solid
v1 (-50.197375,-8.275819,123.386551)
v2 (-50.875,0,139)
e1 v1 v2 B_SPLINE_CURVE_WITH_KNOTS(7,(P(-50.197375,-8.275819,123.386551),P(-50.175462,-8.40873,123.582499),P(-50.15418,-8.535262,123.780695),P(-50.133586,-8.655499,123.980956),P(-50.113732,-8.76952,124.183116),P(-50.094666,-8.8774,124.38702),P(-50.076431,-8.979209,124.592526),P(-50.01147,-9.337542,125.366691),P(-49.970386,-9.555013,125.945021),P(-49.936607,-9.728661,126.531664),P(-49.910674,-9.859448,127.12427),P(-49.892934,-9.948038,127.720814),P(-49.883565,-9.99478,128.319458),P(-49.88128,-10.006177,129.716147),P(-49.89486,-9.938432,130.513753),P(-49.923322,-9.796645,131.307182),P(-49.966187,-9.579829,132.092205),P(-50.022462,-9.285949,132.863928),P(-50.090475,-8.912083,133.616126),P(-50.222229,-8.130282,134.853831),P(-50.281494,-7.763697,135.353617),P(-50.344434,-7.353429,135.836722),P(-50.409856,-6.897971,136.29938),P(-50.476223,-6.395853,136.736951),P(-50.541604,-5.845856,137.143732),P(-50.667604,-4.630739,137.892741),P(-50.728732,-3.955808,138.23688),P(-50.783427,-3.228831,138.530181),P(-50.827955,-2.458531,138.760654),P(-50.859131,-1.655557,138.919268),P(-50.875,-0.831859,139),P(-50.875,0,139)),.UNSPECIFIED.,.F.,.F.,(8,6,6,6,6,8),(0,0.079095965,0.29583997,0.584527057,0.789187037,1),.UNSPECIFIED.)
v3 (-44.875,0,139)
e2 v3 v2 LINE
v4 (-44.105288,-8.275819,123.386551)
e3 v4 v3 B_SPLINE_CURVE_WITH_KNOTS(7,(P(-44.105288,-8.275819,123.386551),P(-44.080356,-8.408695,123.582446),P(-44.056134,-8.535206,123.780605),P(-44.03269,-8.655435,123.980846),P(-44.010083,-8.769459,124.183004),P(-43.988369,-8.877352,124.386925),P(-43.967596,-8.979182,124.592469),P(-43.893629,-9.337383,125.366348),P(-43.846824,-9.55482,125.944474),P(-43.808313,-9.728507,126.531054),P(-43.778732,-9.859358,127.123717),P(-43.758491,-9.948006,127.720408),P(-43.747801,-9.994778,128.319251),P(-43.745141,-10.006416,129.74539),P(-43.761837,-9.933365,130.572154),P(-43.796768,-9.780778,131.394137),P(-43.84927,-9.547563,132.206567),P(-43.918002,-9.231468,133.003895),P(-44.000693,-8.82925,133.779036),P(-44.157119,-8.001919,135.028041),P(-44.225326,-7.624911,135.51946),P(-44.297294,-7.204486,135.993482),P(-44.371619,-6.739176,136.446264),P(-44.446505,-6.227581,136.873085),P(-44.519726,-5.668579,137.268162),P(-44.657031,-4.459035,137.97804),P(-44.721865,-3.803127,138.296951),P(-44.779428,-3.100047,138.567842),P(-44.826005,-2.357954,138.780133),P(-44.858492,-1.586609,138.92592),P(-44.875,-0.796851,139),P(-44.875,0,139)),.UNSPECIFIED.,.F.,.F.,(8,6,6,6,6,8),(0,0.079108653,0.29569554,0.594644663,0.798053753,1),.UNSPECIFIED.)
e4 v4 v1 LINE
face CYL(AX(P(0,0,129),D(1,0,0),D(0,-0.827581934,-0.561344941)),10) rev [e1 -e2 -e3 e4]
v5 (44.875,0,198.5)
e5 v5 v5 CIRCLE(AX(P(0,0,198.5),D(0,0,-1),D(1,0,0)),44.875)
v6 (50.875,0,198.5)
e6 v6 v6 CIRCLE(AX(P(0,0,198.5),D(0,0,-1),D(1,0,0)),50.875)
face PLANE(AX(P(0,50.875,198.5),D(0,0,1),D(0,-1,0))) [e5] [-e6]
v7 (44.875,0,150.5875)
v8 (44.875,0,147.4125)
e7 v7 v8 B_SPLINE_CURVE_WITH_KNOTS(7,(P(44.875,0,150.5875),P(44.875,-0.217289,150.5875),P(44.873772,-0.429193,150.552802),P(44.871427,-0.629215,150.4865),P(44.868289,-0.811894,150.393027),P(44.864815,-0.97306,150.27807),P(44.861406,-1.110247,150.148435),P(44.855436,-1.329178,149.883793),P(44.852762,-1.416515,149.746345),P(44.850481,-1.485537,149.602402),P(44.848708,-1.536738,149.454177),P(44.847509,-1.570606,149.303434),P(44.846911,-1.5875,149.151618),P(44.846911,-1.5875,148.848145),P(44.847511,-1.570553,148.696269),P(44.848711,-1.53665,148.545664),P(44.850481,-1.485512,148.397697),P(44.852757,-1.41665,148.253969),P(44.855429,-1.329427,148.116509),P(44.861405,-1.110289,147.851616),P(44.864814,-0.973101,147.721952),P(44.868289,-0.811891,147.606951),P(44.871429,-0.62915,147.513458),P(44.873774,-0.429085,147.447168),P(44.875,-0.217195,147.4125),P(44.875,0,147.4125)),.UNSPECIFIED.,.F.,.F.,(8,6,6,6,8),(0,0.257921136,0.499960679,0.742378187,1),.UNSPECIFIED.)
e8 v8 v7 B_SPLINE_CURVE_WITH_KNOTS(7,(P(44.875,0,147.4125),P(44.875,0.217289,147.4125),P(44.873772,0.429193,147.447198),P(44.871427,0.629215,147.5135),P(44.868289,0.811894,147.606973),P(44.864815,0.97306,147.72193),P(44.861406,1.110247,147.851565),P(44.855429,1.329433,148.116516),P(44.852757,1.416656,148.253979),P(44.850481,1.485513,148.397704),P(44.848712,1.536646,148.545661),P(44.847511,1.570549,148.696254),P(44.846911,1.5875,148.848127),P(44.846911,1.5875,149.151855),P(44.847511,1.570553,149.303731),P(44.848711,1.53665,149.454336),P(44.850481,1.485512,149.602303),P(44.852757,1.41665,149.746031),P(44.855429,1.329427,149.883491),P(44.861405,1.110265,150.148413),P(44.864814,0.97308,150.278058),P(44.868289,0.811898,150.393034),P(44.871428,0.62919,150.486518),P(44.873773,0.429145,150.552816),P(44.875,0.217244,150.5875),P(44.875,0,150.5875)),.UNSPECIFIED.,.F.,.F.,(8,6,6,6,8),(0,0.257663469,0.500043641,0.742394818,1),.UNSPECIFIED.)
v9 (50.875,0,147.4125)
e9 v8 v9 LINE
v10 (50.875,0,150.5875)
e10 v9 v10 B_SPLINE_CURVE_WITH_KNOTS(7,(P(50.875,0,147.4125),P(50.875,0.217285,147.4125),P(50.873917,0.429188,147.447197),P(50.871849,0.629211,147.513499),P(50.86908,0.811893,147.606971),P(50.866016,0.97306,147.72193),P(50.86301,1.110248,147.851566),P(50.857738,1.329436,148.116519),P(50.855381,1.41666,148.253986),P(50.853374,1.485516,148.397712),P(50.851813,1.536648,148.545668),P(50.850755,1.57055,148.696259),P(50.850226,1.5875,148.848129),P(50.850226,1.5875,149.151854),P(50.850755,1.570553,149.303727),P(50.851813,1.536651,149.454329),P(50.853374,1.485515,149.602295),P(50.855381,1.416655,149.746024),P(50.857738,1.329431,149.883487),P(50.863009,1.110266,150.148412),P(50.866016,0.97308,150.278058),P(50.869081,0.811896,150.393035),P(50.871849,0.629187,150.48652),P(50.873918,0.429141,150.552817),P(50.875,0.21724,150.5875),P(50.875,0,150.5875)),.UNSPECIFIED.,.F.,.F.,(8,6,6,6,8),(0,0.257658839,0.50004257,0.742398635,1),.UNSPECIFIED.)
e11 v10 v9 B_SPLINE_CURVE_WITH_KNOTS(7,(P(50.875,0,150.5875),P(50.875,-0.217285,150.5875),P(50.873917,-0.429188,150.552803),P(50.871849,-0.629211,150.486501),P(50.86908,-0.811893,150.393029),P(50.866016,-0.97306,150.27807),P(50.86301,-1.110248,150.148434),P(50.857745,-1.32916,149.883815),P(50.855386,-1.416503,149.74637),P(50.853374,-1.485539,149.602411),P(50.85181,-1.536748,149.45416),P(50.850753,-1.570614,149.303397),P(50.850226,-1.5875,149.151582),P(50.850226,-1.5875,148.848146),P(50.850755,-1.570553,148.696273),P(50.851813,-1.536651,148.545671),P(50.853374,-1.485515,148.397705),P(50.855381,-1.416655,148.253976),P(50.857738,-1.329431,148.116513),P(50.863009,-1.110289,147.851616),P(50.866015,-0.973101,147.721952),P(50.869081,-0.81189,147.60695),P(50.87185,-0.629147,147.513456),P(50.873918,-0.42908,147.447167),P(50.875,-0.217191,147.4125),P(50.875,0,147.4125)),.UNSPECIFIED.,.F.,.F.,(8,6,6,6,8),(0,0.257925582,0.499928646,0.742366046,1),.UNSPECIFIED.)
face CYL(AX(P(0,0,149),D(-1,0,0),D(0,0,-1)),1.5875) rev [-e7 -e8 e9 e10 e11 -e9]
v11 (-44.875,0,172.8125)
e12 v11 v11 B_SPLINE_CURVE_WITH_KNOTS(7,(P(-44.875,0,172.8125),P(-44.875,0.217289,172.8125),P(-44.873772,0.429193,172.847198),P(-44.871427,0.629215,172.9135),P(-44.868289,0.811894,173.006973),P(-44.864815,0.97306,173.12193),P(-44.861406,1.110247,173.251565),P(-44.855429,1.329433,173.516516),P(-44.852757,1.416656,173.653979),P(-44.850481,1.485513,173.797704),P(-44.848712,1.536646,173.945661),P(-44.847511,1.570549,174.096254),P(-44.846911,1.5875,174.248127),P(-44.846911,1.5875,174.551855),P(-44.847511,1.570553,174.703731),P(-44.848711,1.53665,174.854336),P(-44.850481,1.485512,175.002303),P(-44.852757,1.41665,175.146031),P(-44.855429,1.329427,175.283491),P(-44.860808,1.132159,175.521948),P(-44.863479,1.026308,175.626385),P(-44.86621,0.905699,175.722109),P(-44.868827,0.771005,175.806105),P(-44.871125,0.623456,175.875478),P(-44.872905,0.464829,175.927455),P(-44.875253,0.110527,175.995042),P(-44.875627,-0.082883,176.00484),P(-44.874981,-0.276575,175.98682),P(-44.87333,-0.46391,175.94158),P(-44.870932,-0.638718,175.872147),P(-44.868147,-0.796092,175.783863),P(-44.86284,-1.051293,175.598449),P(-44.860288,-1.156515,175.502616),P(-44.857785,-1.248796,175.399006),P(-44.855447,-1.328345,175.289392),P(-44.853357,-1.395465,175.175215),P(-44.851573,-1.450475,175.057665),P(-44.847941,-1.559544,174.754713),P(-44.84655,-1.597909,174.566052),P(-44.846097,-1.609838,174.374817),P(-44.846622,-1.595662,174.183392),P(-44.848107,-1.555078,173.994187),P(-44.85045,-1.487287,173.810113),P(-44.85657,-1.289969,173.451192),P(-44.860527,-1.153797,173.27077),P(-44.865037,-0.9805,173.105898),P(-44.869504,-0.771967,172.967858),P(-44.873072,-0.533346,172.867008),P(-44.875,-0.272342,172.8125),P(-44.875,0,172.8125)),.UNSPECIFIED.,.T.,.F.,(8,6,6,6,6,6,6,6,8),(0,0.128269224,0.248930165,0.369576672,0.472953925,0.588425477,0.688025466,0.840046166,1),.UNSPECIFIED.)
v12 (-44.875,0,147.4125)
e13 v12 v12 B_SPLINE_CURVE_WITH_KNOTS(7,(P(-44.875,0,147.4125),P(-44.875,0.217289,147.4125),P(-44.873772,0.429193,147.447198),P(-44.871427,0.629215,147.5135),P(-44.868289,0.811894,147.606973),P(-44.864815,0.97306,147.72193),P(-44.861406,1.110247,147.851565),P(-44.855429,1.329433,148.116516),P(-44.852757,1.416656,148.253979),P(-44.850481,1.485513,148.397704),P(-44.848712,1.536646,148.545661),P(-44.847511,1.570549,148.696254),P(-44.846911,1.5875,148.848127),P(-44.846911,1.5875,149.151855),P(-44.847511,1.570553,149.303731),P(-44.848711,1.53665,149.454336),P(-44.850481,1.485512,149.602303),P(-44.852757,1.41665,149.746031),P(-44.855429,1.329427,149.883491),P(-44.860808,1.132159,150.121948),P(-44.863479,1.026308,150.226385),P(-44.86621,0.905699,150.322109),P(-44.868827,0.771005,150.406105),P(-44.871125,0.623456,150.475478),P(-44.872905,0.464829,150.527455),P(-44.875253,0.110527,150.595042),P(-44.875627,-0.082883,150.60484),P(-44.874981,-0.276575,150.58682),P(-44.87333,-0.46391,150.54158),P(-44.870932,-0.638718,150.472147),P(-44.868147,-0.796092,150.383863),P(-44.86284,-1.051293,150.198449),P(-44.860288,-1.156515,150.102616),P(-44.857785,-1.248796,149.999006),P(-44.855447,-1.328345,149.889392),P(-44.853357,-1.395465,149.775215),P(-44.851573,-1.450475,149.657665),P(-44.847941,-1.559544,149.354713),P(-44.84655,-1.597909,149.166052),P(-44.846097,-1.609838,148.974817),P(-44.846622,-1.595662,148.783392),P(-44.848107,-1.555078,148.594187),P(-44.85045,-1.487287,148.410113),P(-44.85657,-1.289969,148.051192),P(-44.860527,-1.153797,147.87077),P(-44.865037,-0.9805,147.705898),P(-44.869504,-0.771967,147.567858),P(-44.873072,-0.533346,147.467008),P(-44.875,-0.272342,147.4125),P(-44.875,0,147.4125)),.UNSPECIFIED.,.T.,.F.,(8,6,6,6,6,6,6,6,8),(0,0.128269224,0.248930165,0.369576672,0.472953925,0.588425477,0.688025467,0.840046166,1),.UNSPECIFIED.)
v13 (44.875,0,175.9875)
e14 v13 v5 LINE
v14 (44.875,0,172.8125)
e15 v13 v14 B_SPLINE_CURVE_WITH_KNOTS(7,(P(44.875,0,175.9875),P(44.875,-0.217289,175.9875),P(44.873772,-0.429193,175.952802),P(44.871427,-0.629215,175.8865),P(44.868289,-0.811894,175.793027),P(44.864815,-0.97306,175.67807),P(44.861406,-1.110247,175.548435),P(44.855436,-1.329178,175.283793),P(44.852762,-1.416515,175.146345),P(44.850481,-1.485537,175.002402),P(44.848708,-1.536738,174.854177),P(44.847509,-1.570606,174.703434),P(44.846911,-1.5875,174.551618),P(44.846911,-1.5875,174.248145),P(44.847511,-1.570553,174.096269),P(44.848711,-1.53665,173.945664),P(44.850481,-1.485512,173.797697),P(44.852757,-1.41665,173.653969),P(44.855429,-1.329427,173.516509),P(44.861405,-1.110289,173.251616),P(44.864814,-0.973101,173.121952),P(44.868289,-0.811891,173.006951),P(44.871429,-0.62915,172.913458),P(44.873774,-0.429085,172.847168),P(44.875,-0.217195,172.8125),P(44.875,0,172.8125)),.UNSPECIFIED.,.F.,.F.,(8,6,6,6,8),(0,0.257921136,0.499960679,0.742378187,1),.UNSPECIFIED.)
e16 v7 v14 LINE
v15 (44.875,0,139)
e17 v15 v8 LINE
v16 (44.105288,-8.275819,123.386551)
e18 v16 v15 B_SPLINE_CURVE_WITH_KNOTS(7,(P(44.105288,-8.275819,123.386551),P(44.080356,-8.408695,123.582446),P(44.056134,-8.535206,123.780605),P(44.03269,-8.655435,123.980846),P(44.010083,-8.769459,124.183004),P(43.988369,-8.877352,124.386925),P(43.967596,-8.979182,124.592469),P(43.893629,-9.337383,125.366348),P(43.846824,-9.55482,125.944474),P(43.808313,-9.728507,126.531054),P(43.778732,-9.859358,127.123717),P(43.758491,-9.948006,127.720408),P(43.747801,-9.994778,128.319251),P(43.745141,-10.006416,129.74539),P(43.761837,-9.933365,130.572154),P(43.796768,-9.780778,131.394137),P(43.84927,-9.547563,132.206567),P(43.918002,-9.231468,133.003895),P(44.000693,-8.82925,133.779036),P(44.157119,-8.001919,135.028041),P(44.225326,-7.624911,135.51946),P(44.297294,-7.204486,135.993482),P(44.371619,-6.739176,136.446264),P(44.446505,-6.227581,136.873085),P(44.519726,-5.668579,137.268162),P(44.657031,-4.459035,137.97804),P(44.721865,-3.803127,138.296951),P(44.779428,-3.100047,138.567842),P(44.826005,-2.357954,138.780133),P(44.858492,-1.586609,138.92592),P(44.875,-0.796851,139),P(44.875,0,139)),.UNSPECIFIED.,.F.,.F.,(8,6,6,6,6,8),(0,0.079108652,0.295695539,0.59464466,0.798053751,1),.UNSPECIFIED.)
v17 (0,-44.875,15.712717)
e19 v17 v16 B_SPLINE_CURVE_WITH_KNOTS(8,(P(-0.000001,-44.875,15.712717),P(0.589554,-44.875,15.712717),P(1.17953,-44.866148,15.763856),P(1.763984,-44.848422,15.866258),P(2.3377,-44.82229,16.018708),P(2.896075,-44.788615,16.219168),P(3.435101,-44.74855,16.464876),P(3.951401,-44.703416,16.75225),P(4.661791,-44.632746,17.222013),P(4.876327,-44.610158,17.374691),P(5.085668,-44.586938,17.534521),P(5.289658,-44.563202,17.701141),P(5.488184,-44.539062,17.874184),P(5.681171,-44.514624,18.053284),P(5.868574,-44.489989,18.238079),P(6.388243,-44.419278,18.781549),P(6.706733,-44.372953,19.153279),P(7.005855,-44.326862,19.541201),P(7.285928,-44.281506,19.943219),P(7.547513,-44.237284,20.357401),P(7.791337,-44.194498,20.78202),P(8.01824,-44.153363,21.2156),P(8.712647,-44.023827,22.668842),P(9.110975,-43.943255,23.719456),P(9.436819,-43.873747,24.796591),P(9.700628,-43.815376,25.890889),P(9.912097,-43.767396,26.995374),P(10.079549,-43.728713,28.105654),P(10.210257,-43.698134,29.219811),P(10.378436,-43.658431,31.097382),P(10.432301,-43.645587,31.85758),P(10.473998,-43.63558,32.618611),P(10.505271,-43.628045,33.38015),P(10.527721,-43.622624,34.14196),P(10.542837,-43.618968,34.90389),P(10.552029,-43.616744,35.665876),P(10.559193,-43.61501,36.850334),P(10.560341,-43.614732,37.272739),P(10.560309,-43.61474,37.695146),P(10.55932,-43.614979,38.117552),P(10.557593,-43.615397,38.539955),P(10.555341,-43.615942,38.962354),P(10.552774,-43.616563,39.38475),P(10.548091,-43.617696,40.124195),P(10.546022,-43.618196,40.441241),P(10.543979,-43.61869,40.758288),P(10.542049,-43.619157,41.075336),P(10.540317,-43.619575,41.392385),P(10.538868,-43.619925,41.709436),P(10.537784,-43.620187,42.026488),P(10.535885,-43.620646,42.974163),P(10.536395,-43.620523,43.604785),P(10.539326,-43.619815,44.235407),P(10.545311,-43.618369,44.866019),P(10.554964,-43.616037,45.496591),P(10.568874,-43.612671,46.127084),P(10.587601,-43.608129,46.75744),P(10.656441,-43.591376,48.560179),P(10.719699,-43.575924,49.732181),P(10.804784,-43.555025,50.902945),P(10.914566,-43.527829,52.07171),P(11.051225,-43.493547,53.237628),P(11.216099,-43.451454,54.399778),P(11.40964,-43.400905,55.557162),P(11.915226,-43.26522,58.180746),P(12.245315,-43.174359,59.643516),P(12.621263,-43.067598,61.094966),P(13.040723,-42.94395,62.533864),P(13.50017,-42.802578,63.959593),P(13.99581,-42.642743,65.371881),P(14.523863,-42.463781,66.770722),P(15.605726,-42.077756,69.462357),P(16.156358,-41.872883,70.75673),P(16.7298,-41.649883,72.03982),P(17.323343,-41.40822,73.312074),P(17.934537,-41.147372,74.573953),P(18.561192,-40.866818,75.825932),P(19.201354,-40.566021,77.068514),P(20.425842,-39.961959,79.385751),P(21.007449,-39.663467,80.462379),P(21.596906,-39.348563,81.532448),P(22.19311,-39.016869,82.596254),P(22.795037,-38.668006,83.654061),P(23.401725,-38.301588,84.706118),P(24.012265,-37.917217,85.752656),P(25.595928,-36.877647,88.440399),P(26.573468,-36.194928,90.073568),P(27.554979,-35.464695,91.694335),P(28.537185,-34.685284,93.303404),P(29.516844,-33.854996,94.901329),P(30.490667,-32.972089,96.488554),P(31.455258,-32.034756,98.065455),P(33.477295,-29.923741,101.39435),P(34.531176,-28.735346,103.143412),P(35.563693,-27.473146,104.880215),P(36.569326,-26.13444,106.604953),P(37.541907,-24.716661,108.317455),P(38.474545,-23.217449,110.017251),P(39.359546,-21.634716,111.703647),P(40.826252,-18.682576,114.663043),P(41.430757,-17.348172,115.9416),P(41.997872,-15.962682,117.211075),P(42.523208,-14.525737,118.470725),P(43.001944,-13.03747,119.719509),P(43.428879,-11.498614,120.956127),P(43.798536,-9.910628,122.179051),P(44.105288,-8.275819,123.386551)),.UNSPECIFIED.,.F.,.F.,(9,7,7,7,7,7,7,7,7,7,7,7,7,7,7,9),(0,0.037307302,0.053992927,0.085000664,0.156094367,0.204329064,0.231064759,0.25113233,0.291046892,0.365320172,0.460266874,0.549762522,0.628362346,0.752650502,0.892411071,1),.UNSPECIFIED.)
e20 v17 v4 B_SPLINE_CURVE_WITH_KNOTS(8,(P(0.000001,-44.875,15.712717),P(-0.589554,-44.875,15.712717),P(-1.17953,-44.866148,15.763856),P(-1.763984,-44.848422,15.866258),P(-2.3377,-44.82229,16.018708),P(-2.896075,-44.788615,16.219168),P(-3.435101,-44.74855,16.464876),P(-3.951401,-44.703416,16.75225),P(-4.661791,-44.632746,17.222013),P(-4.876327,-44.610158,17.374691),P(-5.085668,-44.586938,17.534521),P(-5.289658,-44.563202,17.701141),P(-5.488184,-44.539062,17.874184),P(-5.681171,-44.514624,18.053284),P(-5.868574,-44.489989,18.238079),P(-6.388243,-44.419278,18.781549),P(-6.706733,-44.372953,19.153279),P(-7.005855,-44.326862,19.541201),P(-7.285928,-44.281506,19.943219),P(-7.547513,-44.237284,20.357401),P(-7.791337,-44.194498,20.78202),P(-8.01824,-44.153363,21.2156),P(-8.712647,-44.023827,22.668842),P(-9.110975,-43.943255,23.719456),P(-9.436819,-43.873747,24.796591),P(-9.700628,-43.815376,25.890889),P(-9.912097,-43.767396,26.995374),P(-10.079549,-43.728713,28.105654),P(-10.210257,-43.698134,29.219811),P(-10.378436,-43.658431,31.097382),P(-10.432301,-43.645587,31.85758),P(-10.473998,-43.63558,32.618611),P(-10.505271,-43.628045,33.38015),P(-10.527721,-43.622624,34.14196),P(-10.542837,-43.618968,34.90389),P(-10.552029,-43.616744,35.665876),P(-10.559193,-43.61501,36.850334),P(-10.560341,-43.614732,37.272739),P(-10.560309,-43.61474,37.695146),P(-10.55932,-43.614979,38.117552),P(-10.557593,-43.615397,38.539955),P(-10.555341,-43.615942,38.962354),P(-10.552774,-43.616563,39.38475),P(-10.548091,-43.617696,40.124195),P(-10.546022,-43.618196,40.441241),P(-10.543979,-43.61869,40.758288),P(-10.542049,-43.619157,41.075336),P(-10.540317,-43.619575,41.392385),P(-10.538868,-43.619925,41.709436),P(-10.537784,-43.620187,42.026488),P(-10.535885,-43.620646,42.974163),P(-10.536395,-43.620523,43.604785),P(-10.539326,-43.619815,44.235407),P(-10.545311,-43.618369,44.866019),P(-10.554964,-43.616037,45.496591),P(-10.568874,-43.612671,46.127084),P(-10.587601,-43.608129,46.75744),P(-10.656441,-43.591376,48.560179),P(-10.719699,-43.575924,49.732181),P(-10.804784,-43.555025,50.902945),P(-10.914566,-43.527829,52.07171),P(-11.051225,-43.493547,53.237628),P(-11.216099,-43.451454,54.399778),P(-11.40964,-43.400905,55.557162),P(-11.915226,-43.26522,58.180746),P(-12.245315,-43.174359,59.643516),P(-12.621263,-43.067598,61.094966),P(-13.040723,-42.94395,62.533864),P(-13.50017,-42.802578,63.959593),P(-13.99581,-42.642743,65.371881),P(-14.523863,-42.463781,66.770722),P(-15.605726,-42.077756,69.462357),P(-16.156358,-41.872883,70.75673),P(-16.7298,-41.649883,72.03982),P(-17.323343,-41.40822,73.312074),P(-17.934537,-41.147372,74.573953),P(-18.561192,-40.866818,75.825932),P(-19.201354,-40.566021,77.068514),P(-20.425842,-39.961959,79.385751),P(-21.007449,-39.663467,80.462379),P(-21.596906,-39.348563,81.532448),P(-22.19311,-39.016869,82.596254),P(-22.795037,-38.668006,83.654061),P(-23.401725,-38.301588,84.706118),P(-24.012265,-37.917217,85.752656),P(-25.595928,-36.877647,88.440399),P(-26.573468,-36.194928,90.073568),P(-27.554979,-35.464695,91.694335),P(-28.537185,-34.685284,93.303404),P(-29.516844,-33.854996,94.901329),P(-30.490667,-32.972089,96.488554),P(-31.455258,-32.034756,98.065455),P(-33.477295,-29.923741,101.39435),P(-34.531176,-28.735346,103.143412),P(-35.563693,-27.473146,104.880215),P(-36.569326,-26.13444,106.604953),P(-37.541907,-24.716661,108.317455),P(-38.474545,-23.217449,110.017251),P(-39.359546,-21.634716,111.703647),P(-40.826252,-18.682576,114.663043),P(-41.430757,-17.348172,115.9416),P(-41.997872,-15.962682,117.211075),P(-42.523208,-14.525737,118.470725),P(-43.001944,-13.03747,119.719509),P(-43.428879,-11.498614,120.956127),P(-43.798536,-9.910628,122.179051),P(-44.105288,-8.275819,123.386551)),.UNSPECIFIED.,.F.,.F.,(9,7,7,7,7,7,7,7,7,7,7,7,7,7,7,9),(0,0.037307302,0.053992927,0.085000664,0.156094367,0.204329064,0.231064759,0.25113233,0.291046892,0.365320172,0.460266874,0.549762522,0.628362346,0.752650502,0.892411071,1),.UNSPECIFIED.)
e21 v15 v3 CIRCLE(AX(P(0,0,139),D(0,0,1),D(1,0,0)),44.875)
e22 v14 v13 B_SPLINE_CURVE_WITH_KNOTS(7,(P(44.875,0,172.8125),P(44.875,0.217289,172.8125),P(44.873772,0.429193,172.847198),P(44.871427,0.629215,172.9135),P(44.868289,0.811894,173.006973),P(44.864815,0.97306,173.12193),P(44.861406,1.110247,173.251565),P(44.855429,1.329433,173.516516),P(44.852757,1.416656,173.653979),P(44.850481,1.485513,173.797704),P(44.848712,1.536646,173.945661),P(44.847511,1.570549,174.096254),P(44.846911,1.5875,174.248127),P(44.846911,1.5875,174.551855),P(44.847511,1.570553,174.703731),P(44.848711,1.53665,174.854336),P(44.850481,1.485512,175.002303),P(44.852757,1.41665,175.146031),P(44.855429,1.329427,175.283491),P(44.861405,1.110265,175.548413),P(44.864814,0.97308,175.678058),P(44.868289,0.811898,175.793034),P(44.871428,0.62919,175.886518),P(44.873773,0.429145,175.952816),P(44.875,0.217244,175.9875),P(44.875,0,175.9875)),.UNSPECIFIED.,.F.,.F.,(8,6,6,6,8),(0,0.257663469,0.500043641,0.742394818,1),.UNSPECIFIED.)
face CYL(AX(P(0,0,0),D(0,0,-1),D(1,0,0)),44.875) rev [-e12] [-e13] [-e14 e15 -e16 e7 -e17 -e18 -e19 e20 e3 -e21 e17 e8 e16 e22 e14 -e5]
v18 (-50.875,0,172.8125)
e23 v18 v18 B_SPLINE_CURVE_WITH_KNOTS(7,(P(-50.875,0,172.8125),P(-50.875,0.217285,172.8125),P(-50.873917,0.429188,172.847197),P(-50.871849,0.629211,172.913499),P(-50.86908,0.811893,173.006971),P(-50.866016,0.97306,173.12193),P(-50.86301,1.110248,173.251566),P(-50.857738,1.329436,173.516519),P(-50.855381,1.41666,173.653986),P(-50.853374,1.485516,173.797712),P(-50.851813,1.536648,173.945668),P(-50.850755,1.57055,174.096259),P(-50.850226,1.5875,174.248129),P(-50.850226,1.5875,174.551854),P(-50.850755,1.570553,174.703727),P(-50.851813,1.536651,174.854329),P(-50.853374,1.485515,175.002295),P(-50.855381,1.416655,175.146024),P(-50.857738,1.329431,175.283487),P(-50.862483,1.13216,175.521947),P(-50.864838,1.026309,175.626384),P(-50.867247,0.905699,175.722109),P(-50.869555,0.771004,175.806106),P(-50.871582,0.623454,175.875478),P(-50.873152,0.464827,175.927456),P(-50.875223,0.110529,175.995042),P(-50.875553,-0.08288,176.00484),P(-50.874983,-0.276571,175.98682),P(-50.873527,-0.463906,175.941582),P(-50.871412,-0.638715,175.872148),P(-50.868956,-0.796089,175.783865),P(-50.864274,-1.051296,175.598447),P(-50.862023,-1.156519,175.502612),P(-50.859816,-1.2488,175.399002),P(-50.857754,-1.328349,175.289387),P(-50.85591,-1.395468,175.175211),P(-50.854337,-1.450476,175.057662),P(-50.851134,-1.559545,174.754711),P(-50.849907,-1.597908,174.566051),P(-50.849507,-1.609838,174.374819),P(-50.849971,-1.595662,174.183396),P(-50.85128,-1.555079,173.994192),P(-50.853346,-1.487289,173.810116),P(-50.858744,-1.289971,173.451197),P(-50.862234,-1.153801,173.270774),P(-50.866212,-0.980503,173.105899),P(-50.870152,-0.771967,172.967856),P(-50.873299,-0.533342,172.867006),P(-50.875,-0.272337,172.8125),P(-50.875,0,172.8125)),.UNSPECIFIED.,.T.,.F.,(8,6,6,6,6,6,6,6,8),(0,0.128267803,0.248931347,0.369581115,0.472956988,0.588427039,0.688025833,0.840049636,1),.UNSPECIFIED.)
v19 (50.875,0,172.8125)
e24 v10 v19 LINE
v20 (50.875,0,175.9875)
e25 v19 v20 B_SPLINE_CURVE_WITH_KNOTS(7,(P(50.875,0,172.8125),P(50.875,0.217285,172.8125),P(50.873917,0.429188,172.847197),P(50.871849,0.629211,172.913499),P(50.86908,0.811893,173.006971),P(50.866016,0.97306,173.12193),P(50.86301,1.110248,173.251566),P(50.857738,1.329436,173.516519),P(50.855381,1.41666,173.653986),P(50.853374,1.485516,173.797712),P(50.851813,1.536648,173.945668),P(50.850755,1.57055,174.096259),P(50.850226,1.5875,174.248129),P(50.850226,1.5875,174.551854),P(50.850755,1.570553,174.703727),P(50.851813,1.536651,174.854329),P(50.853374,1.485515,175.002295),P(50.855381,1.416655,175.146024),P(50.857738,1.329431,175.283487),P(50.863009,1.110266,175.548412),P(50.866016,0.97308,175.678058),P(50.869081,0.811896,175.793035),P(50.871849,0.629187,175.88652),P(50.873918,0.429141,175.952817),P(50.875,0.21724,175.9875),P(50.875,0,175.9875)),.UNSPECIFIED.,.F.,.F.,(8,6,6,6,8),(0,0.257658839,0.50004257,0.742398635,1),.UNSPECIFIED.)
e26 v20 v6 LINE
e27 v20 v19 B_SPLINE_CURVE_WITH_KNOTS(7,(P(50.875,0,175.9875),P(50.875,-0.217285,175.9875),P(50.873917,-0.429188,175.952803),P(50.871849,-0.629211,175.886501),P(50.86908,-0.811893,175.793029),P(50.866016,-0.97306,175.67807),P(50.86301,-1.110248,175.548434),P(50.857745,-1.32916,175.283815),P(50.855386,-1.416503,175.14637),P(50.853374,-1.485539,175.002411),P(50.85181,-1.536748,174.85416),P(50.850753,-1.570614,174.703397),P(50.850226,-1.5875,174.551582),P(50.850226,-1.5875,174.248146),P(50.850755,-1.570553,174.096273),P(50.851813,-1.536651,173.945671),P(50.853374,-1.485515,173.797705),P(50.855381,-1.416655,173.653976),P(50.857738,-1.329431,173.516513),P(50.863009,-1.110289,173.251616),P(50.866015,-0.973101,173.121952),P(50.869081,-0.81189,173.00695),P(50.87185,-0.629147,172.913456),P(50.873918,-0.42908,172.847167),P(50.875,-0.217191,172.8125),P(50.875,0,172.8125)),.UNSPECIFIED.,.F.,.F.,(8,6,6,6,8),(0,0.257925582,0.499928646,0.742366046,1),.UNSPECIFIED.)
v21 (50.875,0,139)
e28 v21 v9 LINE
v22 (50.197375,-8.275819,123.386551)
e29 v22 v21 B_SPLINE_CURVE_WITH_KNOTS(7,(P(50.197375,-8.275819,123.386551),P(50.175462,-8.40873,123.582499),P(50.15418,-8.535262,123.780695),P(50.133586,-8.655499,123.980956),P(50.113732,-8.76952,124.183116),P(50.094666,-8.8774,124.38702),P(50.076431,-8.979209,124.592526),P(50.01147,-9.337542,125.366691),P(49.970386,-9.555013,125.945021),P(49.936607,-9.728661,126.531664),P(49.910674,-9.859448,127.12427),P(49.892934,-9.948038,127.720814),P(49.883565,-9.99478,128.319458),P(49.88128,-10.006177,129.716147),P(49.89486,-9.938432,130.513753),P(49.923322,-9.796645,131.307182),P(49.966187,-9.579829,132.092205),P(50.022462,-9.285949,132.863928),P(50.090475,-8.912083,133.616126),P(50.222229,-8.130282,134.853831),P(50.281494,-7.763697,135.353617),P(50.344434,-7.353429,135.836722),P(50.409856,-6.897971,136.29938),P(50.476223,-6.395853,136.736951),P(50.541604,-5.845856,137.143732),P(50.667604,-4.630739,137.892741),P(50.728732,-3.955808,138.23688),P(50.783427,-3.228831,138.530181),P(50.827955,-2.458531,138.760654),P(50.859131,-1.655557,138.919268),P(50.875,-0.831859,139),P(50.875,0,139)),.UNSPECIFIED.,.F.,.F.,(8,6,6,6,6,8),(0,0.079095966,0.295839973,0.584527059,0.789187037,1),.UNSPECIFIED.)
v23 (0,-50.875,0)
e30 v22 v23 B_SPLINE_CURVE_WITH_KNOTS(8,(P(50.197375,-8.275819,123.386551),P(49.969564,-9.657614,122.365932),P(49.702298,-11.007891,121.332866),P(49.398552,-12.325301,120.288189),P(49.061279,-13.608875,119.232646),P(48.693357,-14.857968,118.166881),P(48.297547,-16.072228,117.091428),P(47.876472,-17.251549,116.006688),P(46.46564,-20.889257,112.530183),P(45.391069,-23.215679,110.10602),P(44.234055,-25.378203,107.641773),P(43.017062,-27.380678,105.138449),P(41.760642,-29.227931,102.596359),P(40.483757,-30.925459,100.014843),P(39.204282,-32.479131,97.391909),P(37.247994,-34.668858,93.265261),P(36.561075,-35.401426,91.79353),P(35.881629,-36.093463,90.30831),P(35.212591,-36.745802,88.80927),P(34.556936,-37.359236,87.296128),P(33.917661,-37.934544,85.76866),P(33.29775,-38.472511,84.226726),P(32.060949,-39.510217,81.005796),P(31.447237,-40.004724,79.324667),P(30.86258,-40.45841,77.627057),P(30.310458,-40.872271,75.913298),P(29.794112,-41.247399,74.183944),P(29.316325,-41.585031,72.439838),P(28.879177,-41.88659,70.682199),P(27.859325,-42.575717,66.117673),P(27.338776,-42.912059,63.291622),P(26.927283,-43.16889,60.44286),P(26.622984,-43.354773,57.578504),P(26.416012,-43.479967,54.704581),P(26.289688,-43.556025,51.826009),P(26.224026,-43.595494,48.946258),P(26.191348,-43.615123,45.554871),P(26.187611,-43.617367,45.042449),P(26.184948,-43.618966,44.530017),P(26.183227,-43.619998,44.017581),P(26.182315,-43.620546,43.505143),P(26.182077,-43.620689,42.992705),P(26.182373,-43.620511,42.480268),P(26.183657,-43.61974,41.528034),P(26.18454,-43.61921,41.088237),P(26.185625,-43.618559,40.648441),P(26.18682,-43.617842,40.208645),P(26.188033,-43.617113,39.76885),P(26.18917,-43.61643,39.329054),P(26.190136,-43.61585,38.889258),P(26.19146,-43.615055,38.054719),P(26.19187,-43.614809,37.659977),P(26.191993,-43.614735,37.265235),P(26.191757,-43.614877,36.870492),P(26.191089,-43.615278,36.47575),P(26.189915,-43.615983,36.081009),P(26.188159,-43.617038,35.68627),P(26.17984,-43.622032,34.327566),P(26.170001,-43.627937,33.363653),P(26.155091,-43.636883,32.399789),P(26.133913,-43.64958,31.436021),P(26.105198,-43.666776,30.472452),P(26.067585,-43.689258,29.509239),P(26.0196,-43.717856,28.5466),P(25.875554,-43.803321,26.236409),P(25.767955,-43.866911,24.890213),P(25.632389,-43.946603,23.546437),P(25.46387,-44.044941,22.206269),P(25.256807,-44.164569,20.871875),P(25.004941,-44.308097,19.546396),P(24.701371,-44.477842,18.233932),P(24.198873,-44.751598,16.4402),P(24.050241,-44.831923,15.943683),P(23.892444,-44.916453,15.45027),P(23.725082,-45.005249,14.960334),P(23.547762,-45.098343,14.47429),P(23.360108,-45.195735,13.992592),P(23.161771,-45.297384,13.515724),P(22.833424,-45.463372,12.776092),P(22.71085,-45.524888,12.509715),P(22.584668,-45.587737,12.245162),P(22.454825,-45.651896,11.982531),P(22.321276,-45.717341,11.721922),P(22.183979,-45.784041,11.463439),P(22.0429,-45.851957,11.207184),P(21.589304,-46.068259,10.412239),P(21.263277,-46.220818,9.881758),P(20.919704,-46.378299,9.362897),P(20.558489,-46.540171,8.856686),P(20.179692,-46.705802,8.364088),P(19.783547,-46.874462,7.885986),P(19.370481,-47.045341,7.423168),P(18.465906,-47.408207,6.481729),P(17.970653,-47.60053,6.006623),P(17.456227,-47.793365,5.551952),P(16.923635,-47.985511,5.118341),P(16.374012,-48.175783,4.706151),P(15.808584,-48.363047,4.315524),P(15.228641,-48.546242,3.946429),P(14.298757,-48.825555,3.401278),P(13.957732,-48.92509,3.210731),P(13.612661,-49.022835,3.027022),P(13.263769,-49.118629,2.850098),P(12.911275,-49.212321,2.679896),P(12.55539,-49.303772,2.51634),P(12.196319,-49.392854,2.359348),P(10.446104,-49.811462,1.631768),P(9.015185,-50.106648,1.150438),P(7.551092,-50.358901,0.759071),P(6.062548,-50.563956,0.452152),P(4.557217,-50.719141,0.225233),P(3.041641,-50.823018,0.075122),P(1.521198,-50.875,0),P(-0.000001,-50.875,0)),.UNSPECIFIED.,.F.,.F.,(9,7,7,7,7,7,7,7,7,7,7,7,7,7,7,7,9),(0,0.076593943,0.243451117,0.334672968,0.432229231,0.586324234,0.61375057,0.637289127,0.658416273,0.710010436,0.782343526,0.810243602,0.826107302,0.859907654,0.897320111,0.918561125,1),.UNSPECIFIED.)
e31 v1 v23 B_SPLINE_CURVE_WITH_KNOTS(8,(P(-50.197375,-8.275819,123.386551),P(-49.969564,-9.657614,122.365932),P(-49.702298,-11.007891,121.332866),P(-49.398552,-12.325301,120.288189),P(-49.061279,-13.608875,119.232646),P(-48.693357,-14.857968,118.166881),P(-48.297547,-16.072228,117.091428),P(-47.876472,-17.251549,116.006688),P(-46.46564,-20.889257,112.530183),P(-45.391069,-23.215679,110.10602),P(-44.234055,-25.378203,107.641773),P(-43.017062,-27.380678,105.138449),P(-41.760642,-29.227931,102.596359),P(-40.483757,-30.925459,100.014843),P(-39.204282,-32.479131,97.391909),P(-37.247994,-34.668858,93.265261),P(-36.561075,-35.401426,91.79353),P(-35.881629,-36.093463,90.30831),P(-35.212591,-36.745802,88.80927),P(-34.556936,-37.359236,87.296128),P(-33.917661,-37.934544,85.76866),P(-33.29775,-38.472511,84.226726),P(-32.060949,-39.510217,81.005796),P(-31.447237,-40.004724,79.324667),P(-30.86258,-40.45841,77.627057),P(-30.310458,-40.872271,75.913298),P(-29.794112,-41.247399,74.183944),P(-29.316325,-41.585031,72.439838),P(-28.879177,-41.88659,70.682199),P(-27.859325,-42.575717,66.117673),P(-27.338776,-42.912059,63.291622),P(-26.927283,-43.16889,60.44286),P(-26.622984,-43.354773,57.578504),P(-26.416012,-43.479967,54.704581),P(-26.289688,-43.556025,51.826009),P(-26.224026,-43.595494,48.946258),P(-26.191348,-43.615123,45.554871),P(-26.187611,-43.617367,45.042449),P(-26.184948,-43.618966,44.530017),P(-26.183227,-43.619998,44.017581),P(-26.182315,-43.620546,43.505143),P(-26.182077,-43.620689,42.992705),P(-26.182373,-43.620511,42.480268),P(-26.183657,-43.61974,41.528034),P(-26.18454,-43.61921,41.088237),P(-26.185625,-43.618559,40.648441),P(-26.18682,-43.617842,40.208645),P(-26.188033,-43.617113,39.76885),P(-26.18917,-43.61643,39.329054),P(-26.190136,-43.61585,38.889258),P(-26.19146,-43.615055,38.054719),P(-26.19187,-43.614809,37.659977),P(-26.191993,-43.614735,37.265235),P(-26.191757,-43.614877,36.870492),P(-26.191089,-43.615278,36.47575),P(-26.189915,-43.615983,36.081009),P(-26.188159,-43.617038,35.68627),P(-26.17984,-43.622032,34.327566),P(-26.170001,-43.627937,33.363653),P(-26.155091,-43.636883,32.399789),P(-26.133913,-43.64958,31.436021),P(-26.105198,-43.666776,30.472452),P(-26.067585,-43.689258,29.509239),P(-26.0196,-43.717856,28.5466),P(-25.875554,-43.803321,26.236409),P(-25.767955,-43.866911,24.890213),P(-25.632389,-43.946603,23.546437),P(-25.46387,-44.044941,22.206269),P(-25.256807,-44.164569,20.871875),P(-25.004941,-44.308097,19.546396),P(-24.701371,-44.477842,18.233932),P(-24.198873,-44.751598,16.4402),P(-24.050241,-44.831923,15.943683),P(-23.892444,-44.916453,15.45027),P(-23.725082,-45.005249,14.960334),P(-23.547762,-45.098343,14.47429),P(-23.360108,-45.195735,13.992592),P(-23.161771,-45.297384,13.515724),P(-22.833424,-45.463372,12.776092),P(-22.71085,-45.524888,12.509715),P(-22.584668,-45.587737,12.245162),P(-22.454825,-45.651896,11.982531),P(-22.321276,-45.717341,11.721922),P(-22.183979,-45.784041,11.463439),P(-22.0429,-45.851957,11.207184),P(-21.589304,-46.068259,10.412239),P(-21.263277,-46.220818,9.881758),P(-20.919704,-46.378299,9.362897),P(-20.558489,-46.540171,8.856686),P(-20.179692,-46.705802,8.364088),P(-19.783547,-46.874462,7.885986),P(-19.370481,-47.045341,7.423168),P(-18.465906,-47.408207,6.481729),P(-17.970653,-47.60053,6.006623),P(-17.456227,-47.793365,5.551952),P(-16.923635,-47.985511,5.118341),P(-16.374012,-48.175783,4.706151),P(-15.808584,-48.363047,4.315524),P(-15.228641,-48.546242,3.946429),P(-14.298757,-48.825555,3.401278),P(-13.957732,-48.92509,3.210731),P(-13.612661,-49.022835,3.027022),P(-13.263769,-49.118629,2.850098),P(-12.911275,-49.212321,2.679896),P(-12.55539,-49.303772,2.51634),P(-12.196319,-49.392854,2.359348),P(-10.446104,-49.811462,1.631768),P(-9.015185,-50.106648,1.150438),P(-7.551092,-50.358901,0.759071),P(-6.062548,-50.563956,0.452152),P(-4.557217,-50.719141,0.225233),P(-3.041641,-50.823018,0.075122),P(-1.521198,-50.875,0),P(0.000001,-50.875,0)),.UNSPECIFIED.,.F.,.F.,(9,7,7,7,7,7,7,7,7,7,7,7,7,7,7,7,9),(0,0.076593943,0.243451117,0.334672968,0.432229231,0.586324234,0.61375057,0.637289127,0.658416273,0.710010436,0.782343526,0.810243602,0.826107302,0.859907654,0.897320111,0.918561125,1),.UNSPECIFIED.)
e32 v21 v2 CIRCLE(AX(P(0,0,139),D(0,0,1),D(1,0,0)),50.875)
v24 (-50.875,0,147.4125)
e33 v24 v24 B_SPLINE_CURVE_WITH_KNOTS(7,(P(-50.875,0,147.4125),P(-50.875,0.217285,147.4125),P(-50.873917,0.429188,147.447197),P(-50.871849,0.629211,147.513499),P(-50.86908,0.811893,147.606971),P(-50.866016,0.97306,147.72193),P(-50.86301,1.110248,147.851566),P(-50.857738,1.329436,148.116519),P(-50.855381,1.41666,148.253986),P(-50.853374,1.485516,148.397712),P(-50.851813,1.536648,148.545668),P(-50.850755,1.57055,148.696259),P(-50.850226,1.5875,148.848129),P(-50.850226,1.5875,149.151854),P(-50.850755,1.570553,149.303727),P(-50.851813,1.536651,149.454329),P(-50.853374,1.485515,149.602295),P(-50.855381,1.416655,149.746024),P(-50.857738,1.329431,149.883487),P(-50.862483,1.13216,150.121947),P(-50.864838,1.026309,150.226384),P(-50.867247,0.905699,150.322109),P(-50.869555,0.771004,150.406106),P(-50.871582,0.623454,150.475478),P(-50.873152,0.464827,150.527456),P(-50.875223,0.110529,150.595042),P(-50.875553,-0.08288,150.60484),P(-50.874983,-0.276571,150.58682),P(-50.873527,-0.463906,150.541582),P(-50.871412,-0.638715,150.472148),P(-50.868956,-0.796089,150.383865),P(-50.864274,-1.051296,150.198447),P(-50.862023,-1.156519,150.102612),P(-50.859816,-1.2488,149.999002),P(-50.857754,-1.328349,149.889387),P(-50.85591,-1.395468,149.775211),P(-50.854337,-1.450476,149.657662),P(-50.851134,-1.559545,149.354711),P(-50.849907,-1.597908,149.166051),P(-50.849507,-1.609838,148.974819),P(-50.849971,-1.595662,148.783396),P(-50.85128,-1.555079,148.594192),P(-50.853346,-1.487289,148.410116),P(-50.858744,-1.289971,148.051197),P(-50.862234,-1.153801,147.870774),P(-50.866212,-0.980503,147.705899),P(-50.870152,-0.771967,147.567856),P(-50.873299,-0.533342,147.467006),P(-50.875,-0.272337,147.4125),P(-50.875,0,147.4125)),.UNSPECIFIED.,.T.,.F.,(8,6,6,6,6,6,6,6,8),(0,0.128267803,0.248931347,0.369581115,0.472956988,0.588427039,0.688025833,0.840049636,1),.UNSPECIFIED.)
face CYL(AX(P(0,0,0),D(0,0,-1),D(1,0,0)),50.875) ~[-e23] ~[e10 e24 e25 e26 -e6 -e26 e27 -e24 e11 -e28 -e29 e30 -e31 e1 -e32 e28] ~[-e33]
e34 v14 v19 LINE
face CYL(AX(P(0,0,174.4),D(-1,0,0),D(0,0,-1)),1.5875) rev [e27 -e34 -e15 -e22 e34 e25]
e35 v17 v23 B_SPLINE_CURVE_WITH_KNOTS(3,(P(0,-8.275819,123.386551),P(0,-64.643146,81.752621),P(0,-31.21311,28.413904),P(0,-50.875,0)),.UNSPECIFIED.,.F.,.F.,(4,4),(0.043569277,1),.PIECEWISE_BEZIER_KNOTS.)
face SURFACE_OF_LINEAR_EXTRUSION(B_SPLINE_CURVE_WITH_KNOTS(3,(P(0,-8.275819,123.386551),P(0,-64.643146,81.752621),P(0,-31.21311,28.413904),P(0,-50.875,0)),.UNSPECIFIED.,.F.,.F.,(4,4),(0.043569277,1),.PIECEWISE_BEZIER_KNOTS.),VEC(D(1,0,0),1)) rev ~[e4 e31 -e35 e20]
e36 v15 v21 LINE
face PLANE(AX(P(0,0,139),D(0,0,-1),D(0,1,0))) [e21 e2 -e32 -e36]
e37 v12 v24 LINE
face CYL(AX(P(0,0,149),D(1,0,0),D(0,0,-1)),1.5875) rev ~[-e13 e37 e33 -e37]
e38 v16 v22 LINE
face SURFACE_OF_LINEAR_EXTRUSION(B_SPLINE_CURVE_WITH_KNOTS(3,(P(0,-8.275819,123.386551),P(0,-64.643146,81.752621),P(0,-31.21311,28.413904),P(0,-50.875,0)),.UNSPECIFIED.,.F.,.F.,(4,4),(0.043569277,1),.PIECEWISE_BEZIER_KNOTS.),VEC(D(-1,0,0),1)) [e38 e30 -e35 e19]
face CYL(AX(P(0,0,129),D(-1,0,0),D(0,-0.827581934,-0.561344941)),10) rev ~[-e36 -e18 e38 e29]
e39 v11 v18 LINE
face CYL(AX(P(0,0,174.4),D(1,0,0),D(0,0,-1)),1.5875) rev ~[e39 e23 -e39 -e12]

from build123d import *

# Parameters (mm, degrees)
SKETCH1_R               = 50.875
SKETCH1_R_2             = 44.875
BOSS_EXTRUDE1_DEPTH     = 258
SKETCH2_OUTSIDE_W       = 319.084
SKETCH2_OUTSIDE_H       = 162.834
CUT_EXTRUDE1_DEPTH      = 51.875
CUT_EXTRUDE1_DEPTH_BACK = 51.875
SKETCH4_R               = 1.5875
CUT_EXTRUDE3_DEPTH      = 51.8750001
CUT_EXTRUDE3_DEPTH_BACK = 51.8750001


with BuildPart() as part:
    # Sketch1 → Boss-Extrude1 (new body)
    with BuildSketch(Plane.XY):
        Circle(SKETCH1_R)
        Circle(SKETCH1_R_2, mode=Mode.SUBTRACT)
    extrude(amount=BOSS_EXTRUDE1_DEPTH)

    # Sketch2 outside → Cut-Extrude1 (cut, two sides)
    with BuildSketch(Plane(origin=(0, 0, 0), x_dir=(0, 0, -1), z_dir=(1, 0, 0))) as cut_extrude1_sk:
        with Locations((-129, 0)):
            Rectangle(SKETCH2_OUTSIDE_W, SKETCH2_OUTSIDE_H)
        with BuildLine():
            Line((-198.5, -50.875), (0, -50.875))
            add(Edge.make_bspline(
                [(-123.386550588, -8.275819337), (-81.752620628, -64.643145872), (-28.413904024, -31.213109934), (0, -50.875)],
                knots=[0.043569277, 0.043569277, 0.043569277, 0.043569277, 1, 1, 1, 1], degree=3))
            ThreePointArc((-123.386550588, -8.275819337), (-133.683241713, -8.835567161), (-139, 0))
            Line((-139, 0), (-139, 50.875))
            Line((-139, 50.875), (-198.5, 50.875))
            Line((-198.5, 50.875), (-198.5, -50.875))
        make_face(mode=Mode.SUBTRACT)
    extrude(amount=CUT_EXTRUDE1_DEPTH, mode=Mode.SUBTRACT)
    extrude(cut_extrude1_sk.sketch, amount=-CUT_EXTRUDE1_DEPTH_BACK, mode=Mode.SUBTRACT)

    # Sketch4 → Cut-Extrude3 (cut, two sides)
    with BuildSketch(Plane(origin=(0, 0, 0), x_dir=(0, 0, -1), z_dir=(1, 0, 0))) as cut_extrude3_sk:
        with Locations((-149, 0)):
            Circle(SKETCH4_R)
        with Locations((-174.4, 0)):
            Circle(SKETCH4_R)
    extrude(amount=CUT_EXTRUDE3_DEPTH, mode=Mode.SUBTRACT)
    extrude(cut_extrude3_sk.sketch, amount=-CUT_EXTRUDE3_DEPTH_BACK, mode=Mode.SUBTRACT)


solid = part.part
